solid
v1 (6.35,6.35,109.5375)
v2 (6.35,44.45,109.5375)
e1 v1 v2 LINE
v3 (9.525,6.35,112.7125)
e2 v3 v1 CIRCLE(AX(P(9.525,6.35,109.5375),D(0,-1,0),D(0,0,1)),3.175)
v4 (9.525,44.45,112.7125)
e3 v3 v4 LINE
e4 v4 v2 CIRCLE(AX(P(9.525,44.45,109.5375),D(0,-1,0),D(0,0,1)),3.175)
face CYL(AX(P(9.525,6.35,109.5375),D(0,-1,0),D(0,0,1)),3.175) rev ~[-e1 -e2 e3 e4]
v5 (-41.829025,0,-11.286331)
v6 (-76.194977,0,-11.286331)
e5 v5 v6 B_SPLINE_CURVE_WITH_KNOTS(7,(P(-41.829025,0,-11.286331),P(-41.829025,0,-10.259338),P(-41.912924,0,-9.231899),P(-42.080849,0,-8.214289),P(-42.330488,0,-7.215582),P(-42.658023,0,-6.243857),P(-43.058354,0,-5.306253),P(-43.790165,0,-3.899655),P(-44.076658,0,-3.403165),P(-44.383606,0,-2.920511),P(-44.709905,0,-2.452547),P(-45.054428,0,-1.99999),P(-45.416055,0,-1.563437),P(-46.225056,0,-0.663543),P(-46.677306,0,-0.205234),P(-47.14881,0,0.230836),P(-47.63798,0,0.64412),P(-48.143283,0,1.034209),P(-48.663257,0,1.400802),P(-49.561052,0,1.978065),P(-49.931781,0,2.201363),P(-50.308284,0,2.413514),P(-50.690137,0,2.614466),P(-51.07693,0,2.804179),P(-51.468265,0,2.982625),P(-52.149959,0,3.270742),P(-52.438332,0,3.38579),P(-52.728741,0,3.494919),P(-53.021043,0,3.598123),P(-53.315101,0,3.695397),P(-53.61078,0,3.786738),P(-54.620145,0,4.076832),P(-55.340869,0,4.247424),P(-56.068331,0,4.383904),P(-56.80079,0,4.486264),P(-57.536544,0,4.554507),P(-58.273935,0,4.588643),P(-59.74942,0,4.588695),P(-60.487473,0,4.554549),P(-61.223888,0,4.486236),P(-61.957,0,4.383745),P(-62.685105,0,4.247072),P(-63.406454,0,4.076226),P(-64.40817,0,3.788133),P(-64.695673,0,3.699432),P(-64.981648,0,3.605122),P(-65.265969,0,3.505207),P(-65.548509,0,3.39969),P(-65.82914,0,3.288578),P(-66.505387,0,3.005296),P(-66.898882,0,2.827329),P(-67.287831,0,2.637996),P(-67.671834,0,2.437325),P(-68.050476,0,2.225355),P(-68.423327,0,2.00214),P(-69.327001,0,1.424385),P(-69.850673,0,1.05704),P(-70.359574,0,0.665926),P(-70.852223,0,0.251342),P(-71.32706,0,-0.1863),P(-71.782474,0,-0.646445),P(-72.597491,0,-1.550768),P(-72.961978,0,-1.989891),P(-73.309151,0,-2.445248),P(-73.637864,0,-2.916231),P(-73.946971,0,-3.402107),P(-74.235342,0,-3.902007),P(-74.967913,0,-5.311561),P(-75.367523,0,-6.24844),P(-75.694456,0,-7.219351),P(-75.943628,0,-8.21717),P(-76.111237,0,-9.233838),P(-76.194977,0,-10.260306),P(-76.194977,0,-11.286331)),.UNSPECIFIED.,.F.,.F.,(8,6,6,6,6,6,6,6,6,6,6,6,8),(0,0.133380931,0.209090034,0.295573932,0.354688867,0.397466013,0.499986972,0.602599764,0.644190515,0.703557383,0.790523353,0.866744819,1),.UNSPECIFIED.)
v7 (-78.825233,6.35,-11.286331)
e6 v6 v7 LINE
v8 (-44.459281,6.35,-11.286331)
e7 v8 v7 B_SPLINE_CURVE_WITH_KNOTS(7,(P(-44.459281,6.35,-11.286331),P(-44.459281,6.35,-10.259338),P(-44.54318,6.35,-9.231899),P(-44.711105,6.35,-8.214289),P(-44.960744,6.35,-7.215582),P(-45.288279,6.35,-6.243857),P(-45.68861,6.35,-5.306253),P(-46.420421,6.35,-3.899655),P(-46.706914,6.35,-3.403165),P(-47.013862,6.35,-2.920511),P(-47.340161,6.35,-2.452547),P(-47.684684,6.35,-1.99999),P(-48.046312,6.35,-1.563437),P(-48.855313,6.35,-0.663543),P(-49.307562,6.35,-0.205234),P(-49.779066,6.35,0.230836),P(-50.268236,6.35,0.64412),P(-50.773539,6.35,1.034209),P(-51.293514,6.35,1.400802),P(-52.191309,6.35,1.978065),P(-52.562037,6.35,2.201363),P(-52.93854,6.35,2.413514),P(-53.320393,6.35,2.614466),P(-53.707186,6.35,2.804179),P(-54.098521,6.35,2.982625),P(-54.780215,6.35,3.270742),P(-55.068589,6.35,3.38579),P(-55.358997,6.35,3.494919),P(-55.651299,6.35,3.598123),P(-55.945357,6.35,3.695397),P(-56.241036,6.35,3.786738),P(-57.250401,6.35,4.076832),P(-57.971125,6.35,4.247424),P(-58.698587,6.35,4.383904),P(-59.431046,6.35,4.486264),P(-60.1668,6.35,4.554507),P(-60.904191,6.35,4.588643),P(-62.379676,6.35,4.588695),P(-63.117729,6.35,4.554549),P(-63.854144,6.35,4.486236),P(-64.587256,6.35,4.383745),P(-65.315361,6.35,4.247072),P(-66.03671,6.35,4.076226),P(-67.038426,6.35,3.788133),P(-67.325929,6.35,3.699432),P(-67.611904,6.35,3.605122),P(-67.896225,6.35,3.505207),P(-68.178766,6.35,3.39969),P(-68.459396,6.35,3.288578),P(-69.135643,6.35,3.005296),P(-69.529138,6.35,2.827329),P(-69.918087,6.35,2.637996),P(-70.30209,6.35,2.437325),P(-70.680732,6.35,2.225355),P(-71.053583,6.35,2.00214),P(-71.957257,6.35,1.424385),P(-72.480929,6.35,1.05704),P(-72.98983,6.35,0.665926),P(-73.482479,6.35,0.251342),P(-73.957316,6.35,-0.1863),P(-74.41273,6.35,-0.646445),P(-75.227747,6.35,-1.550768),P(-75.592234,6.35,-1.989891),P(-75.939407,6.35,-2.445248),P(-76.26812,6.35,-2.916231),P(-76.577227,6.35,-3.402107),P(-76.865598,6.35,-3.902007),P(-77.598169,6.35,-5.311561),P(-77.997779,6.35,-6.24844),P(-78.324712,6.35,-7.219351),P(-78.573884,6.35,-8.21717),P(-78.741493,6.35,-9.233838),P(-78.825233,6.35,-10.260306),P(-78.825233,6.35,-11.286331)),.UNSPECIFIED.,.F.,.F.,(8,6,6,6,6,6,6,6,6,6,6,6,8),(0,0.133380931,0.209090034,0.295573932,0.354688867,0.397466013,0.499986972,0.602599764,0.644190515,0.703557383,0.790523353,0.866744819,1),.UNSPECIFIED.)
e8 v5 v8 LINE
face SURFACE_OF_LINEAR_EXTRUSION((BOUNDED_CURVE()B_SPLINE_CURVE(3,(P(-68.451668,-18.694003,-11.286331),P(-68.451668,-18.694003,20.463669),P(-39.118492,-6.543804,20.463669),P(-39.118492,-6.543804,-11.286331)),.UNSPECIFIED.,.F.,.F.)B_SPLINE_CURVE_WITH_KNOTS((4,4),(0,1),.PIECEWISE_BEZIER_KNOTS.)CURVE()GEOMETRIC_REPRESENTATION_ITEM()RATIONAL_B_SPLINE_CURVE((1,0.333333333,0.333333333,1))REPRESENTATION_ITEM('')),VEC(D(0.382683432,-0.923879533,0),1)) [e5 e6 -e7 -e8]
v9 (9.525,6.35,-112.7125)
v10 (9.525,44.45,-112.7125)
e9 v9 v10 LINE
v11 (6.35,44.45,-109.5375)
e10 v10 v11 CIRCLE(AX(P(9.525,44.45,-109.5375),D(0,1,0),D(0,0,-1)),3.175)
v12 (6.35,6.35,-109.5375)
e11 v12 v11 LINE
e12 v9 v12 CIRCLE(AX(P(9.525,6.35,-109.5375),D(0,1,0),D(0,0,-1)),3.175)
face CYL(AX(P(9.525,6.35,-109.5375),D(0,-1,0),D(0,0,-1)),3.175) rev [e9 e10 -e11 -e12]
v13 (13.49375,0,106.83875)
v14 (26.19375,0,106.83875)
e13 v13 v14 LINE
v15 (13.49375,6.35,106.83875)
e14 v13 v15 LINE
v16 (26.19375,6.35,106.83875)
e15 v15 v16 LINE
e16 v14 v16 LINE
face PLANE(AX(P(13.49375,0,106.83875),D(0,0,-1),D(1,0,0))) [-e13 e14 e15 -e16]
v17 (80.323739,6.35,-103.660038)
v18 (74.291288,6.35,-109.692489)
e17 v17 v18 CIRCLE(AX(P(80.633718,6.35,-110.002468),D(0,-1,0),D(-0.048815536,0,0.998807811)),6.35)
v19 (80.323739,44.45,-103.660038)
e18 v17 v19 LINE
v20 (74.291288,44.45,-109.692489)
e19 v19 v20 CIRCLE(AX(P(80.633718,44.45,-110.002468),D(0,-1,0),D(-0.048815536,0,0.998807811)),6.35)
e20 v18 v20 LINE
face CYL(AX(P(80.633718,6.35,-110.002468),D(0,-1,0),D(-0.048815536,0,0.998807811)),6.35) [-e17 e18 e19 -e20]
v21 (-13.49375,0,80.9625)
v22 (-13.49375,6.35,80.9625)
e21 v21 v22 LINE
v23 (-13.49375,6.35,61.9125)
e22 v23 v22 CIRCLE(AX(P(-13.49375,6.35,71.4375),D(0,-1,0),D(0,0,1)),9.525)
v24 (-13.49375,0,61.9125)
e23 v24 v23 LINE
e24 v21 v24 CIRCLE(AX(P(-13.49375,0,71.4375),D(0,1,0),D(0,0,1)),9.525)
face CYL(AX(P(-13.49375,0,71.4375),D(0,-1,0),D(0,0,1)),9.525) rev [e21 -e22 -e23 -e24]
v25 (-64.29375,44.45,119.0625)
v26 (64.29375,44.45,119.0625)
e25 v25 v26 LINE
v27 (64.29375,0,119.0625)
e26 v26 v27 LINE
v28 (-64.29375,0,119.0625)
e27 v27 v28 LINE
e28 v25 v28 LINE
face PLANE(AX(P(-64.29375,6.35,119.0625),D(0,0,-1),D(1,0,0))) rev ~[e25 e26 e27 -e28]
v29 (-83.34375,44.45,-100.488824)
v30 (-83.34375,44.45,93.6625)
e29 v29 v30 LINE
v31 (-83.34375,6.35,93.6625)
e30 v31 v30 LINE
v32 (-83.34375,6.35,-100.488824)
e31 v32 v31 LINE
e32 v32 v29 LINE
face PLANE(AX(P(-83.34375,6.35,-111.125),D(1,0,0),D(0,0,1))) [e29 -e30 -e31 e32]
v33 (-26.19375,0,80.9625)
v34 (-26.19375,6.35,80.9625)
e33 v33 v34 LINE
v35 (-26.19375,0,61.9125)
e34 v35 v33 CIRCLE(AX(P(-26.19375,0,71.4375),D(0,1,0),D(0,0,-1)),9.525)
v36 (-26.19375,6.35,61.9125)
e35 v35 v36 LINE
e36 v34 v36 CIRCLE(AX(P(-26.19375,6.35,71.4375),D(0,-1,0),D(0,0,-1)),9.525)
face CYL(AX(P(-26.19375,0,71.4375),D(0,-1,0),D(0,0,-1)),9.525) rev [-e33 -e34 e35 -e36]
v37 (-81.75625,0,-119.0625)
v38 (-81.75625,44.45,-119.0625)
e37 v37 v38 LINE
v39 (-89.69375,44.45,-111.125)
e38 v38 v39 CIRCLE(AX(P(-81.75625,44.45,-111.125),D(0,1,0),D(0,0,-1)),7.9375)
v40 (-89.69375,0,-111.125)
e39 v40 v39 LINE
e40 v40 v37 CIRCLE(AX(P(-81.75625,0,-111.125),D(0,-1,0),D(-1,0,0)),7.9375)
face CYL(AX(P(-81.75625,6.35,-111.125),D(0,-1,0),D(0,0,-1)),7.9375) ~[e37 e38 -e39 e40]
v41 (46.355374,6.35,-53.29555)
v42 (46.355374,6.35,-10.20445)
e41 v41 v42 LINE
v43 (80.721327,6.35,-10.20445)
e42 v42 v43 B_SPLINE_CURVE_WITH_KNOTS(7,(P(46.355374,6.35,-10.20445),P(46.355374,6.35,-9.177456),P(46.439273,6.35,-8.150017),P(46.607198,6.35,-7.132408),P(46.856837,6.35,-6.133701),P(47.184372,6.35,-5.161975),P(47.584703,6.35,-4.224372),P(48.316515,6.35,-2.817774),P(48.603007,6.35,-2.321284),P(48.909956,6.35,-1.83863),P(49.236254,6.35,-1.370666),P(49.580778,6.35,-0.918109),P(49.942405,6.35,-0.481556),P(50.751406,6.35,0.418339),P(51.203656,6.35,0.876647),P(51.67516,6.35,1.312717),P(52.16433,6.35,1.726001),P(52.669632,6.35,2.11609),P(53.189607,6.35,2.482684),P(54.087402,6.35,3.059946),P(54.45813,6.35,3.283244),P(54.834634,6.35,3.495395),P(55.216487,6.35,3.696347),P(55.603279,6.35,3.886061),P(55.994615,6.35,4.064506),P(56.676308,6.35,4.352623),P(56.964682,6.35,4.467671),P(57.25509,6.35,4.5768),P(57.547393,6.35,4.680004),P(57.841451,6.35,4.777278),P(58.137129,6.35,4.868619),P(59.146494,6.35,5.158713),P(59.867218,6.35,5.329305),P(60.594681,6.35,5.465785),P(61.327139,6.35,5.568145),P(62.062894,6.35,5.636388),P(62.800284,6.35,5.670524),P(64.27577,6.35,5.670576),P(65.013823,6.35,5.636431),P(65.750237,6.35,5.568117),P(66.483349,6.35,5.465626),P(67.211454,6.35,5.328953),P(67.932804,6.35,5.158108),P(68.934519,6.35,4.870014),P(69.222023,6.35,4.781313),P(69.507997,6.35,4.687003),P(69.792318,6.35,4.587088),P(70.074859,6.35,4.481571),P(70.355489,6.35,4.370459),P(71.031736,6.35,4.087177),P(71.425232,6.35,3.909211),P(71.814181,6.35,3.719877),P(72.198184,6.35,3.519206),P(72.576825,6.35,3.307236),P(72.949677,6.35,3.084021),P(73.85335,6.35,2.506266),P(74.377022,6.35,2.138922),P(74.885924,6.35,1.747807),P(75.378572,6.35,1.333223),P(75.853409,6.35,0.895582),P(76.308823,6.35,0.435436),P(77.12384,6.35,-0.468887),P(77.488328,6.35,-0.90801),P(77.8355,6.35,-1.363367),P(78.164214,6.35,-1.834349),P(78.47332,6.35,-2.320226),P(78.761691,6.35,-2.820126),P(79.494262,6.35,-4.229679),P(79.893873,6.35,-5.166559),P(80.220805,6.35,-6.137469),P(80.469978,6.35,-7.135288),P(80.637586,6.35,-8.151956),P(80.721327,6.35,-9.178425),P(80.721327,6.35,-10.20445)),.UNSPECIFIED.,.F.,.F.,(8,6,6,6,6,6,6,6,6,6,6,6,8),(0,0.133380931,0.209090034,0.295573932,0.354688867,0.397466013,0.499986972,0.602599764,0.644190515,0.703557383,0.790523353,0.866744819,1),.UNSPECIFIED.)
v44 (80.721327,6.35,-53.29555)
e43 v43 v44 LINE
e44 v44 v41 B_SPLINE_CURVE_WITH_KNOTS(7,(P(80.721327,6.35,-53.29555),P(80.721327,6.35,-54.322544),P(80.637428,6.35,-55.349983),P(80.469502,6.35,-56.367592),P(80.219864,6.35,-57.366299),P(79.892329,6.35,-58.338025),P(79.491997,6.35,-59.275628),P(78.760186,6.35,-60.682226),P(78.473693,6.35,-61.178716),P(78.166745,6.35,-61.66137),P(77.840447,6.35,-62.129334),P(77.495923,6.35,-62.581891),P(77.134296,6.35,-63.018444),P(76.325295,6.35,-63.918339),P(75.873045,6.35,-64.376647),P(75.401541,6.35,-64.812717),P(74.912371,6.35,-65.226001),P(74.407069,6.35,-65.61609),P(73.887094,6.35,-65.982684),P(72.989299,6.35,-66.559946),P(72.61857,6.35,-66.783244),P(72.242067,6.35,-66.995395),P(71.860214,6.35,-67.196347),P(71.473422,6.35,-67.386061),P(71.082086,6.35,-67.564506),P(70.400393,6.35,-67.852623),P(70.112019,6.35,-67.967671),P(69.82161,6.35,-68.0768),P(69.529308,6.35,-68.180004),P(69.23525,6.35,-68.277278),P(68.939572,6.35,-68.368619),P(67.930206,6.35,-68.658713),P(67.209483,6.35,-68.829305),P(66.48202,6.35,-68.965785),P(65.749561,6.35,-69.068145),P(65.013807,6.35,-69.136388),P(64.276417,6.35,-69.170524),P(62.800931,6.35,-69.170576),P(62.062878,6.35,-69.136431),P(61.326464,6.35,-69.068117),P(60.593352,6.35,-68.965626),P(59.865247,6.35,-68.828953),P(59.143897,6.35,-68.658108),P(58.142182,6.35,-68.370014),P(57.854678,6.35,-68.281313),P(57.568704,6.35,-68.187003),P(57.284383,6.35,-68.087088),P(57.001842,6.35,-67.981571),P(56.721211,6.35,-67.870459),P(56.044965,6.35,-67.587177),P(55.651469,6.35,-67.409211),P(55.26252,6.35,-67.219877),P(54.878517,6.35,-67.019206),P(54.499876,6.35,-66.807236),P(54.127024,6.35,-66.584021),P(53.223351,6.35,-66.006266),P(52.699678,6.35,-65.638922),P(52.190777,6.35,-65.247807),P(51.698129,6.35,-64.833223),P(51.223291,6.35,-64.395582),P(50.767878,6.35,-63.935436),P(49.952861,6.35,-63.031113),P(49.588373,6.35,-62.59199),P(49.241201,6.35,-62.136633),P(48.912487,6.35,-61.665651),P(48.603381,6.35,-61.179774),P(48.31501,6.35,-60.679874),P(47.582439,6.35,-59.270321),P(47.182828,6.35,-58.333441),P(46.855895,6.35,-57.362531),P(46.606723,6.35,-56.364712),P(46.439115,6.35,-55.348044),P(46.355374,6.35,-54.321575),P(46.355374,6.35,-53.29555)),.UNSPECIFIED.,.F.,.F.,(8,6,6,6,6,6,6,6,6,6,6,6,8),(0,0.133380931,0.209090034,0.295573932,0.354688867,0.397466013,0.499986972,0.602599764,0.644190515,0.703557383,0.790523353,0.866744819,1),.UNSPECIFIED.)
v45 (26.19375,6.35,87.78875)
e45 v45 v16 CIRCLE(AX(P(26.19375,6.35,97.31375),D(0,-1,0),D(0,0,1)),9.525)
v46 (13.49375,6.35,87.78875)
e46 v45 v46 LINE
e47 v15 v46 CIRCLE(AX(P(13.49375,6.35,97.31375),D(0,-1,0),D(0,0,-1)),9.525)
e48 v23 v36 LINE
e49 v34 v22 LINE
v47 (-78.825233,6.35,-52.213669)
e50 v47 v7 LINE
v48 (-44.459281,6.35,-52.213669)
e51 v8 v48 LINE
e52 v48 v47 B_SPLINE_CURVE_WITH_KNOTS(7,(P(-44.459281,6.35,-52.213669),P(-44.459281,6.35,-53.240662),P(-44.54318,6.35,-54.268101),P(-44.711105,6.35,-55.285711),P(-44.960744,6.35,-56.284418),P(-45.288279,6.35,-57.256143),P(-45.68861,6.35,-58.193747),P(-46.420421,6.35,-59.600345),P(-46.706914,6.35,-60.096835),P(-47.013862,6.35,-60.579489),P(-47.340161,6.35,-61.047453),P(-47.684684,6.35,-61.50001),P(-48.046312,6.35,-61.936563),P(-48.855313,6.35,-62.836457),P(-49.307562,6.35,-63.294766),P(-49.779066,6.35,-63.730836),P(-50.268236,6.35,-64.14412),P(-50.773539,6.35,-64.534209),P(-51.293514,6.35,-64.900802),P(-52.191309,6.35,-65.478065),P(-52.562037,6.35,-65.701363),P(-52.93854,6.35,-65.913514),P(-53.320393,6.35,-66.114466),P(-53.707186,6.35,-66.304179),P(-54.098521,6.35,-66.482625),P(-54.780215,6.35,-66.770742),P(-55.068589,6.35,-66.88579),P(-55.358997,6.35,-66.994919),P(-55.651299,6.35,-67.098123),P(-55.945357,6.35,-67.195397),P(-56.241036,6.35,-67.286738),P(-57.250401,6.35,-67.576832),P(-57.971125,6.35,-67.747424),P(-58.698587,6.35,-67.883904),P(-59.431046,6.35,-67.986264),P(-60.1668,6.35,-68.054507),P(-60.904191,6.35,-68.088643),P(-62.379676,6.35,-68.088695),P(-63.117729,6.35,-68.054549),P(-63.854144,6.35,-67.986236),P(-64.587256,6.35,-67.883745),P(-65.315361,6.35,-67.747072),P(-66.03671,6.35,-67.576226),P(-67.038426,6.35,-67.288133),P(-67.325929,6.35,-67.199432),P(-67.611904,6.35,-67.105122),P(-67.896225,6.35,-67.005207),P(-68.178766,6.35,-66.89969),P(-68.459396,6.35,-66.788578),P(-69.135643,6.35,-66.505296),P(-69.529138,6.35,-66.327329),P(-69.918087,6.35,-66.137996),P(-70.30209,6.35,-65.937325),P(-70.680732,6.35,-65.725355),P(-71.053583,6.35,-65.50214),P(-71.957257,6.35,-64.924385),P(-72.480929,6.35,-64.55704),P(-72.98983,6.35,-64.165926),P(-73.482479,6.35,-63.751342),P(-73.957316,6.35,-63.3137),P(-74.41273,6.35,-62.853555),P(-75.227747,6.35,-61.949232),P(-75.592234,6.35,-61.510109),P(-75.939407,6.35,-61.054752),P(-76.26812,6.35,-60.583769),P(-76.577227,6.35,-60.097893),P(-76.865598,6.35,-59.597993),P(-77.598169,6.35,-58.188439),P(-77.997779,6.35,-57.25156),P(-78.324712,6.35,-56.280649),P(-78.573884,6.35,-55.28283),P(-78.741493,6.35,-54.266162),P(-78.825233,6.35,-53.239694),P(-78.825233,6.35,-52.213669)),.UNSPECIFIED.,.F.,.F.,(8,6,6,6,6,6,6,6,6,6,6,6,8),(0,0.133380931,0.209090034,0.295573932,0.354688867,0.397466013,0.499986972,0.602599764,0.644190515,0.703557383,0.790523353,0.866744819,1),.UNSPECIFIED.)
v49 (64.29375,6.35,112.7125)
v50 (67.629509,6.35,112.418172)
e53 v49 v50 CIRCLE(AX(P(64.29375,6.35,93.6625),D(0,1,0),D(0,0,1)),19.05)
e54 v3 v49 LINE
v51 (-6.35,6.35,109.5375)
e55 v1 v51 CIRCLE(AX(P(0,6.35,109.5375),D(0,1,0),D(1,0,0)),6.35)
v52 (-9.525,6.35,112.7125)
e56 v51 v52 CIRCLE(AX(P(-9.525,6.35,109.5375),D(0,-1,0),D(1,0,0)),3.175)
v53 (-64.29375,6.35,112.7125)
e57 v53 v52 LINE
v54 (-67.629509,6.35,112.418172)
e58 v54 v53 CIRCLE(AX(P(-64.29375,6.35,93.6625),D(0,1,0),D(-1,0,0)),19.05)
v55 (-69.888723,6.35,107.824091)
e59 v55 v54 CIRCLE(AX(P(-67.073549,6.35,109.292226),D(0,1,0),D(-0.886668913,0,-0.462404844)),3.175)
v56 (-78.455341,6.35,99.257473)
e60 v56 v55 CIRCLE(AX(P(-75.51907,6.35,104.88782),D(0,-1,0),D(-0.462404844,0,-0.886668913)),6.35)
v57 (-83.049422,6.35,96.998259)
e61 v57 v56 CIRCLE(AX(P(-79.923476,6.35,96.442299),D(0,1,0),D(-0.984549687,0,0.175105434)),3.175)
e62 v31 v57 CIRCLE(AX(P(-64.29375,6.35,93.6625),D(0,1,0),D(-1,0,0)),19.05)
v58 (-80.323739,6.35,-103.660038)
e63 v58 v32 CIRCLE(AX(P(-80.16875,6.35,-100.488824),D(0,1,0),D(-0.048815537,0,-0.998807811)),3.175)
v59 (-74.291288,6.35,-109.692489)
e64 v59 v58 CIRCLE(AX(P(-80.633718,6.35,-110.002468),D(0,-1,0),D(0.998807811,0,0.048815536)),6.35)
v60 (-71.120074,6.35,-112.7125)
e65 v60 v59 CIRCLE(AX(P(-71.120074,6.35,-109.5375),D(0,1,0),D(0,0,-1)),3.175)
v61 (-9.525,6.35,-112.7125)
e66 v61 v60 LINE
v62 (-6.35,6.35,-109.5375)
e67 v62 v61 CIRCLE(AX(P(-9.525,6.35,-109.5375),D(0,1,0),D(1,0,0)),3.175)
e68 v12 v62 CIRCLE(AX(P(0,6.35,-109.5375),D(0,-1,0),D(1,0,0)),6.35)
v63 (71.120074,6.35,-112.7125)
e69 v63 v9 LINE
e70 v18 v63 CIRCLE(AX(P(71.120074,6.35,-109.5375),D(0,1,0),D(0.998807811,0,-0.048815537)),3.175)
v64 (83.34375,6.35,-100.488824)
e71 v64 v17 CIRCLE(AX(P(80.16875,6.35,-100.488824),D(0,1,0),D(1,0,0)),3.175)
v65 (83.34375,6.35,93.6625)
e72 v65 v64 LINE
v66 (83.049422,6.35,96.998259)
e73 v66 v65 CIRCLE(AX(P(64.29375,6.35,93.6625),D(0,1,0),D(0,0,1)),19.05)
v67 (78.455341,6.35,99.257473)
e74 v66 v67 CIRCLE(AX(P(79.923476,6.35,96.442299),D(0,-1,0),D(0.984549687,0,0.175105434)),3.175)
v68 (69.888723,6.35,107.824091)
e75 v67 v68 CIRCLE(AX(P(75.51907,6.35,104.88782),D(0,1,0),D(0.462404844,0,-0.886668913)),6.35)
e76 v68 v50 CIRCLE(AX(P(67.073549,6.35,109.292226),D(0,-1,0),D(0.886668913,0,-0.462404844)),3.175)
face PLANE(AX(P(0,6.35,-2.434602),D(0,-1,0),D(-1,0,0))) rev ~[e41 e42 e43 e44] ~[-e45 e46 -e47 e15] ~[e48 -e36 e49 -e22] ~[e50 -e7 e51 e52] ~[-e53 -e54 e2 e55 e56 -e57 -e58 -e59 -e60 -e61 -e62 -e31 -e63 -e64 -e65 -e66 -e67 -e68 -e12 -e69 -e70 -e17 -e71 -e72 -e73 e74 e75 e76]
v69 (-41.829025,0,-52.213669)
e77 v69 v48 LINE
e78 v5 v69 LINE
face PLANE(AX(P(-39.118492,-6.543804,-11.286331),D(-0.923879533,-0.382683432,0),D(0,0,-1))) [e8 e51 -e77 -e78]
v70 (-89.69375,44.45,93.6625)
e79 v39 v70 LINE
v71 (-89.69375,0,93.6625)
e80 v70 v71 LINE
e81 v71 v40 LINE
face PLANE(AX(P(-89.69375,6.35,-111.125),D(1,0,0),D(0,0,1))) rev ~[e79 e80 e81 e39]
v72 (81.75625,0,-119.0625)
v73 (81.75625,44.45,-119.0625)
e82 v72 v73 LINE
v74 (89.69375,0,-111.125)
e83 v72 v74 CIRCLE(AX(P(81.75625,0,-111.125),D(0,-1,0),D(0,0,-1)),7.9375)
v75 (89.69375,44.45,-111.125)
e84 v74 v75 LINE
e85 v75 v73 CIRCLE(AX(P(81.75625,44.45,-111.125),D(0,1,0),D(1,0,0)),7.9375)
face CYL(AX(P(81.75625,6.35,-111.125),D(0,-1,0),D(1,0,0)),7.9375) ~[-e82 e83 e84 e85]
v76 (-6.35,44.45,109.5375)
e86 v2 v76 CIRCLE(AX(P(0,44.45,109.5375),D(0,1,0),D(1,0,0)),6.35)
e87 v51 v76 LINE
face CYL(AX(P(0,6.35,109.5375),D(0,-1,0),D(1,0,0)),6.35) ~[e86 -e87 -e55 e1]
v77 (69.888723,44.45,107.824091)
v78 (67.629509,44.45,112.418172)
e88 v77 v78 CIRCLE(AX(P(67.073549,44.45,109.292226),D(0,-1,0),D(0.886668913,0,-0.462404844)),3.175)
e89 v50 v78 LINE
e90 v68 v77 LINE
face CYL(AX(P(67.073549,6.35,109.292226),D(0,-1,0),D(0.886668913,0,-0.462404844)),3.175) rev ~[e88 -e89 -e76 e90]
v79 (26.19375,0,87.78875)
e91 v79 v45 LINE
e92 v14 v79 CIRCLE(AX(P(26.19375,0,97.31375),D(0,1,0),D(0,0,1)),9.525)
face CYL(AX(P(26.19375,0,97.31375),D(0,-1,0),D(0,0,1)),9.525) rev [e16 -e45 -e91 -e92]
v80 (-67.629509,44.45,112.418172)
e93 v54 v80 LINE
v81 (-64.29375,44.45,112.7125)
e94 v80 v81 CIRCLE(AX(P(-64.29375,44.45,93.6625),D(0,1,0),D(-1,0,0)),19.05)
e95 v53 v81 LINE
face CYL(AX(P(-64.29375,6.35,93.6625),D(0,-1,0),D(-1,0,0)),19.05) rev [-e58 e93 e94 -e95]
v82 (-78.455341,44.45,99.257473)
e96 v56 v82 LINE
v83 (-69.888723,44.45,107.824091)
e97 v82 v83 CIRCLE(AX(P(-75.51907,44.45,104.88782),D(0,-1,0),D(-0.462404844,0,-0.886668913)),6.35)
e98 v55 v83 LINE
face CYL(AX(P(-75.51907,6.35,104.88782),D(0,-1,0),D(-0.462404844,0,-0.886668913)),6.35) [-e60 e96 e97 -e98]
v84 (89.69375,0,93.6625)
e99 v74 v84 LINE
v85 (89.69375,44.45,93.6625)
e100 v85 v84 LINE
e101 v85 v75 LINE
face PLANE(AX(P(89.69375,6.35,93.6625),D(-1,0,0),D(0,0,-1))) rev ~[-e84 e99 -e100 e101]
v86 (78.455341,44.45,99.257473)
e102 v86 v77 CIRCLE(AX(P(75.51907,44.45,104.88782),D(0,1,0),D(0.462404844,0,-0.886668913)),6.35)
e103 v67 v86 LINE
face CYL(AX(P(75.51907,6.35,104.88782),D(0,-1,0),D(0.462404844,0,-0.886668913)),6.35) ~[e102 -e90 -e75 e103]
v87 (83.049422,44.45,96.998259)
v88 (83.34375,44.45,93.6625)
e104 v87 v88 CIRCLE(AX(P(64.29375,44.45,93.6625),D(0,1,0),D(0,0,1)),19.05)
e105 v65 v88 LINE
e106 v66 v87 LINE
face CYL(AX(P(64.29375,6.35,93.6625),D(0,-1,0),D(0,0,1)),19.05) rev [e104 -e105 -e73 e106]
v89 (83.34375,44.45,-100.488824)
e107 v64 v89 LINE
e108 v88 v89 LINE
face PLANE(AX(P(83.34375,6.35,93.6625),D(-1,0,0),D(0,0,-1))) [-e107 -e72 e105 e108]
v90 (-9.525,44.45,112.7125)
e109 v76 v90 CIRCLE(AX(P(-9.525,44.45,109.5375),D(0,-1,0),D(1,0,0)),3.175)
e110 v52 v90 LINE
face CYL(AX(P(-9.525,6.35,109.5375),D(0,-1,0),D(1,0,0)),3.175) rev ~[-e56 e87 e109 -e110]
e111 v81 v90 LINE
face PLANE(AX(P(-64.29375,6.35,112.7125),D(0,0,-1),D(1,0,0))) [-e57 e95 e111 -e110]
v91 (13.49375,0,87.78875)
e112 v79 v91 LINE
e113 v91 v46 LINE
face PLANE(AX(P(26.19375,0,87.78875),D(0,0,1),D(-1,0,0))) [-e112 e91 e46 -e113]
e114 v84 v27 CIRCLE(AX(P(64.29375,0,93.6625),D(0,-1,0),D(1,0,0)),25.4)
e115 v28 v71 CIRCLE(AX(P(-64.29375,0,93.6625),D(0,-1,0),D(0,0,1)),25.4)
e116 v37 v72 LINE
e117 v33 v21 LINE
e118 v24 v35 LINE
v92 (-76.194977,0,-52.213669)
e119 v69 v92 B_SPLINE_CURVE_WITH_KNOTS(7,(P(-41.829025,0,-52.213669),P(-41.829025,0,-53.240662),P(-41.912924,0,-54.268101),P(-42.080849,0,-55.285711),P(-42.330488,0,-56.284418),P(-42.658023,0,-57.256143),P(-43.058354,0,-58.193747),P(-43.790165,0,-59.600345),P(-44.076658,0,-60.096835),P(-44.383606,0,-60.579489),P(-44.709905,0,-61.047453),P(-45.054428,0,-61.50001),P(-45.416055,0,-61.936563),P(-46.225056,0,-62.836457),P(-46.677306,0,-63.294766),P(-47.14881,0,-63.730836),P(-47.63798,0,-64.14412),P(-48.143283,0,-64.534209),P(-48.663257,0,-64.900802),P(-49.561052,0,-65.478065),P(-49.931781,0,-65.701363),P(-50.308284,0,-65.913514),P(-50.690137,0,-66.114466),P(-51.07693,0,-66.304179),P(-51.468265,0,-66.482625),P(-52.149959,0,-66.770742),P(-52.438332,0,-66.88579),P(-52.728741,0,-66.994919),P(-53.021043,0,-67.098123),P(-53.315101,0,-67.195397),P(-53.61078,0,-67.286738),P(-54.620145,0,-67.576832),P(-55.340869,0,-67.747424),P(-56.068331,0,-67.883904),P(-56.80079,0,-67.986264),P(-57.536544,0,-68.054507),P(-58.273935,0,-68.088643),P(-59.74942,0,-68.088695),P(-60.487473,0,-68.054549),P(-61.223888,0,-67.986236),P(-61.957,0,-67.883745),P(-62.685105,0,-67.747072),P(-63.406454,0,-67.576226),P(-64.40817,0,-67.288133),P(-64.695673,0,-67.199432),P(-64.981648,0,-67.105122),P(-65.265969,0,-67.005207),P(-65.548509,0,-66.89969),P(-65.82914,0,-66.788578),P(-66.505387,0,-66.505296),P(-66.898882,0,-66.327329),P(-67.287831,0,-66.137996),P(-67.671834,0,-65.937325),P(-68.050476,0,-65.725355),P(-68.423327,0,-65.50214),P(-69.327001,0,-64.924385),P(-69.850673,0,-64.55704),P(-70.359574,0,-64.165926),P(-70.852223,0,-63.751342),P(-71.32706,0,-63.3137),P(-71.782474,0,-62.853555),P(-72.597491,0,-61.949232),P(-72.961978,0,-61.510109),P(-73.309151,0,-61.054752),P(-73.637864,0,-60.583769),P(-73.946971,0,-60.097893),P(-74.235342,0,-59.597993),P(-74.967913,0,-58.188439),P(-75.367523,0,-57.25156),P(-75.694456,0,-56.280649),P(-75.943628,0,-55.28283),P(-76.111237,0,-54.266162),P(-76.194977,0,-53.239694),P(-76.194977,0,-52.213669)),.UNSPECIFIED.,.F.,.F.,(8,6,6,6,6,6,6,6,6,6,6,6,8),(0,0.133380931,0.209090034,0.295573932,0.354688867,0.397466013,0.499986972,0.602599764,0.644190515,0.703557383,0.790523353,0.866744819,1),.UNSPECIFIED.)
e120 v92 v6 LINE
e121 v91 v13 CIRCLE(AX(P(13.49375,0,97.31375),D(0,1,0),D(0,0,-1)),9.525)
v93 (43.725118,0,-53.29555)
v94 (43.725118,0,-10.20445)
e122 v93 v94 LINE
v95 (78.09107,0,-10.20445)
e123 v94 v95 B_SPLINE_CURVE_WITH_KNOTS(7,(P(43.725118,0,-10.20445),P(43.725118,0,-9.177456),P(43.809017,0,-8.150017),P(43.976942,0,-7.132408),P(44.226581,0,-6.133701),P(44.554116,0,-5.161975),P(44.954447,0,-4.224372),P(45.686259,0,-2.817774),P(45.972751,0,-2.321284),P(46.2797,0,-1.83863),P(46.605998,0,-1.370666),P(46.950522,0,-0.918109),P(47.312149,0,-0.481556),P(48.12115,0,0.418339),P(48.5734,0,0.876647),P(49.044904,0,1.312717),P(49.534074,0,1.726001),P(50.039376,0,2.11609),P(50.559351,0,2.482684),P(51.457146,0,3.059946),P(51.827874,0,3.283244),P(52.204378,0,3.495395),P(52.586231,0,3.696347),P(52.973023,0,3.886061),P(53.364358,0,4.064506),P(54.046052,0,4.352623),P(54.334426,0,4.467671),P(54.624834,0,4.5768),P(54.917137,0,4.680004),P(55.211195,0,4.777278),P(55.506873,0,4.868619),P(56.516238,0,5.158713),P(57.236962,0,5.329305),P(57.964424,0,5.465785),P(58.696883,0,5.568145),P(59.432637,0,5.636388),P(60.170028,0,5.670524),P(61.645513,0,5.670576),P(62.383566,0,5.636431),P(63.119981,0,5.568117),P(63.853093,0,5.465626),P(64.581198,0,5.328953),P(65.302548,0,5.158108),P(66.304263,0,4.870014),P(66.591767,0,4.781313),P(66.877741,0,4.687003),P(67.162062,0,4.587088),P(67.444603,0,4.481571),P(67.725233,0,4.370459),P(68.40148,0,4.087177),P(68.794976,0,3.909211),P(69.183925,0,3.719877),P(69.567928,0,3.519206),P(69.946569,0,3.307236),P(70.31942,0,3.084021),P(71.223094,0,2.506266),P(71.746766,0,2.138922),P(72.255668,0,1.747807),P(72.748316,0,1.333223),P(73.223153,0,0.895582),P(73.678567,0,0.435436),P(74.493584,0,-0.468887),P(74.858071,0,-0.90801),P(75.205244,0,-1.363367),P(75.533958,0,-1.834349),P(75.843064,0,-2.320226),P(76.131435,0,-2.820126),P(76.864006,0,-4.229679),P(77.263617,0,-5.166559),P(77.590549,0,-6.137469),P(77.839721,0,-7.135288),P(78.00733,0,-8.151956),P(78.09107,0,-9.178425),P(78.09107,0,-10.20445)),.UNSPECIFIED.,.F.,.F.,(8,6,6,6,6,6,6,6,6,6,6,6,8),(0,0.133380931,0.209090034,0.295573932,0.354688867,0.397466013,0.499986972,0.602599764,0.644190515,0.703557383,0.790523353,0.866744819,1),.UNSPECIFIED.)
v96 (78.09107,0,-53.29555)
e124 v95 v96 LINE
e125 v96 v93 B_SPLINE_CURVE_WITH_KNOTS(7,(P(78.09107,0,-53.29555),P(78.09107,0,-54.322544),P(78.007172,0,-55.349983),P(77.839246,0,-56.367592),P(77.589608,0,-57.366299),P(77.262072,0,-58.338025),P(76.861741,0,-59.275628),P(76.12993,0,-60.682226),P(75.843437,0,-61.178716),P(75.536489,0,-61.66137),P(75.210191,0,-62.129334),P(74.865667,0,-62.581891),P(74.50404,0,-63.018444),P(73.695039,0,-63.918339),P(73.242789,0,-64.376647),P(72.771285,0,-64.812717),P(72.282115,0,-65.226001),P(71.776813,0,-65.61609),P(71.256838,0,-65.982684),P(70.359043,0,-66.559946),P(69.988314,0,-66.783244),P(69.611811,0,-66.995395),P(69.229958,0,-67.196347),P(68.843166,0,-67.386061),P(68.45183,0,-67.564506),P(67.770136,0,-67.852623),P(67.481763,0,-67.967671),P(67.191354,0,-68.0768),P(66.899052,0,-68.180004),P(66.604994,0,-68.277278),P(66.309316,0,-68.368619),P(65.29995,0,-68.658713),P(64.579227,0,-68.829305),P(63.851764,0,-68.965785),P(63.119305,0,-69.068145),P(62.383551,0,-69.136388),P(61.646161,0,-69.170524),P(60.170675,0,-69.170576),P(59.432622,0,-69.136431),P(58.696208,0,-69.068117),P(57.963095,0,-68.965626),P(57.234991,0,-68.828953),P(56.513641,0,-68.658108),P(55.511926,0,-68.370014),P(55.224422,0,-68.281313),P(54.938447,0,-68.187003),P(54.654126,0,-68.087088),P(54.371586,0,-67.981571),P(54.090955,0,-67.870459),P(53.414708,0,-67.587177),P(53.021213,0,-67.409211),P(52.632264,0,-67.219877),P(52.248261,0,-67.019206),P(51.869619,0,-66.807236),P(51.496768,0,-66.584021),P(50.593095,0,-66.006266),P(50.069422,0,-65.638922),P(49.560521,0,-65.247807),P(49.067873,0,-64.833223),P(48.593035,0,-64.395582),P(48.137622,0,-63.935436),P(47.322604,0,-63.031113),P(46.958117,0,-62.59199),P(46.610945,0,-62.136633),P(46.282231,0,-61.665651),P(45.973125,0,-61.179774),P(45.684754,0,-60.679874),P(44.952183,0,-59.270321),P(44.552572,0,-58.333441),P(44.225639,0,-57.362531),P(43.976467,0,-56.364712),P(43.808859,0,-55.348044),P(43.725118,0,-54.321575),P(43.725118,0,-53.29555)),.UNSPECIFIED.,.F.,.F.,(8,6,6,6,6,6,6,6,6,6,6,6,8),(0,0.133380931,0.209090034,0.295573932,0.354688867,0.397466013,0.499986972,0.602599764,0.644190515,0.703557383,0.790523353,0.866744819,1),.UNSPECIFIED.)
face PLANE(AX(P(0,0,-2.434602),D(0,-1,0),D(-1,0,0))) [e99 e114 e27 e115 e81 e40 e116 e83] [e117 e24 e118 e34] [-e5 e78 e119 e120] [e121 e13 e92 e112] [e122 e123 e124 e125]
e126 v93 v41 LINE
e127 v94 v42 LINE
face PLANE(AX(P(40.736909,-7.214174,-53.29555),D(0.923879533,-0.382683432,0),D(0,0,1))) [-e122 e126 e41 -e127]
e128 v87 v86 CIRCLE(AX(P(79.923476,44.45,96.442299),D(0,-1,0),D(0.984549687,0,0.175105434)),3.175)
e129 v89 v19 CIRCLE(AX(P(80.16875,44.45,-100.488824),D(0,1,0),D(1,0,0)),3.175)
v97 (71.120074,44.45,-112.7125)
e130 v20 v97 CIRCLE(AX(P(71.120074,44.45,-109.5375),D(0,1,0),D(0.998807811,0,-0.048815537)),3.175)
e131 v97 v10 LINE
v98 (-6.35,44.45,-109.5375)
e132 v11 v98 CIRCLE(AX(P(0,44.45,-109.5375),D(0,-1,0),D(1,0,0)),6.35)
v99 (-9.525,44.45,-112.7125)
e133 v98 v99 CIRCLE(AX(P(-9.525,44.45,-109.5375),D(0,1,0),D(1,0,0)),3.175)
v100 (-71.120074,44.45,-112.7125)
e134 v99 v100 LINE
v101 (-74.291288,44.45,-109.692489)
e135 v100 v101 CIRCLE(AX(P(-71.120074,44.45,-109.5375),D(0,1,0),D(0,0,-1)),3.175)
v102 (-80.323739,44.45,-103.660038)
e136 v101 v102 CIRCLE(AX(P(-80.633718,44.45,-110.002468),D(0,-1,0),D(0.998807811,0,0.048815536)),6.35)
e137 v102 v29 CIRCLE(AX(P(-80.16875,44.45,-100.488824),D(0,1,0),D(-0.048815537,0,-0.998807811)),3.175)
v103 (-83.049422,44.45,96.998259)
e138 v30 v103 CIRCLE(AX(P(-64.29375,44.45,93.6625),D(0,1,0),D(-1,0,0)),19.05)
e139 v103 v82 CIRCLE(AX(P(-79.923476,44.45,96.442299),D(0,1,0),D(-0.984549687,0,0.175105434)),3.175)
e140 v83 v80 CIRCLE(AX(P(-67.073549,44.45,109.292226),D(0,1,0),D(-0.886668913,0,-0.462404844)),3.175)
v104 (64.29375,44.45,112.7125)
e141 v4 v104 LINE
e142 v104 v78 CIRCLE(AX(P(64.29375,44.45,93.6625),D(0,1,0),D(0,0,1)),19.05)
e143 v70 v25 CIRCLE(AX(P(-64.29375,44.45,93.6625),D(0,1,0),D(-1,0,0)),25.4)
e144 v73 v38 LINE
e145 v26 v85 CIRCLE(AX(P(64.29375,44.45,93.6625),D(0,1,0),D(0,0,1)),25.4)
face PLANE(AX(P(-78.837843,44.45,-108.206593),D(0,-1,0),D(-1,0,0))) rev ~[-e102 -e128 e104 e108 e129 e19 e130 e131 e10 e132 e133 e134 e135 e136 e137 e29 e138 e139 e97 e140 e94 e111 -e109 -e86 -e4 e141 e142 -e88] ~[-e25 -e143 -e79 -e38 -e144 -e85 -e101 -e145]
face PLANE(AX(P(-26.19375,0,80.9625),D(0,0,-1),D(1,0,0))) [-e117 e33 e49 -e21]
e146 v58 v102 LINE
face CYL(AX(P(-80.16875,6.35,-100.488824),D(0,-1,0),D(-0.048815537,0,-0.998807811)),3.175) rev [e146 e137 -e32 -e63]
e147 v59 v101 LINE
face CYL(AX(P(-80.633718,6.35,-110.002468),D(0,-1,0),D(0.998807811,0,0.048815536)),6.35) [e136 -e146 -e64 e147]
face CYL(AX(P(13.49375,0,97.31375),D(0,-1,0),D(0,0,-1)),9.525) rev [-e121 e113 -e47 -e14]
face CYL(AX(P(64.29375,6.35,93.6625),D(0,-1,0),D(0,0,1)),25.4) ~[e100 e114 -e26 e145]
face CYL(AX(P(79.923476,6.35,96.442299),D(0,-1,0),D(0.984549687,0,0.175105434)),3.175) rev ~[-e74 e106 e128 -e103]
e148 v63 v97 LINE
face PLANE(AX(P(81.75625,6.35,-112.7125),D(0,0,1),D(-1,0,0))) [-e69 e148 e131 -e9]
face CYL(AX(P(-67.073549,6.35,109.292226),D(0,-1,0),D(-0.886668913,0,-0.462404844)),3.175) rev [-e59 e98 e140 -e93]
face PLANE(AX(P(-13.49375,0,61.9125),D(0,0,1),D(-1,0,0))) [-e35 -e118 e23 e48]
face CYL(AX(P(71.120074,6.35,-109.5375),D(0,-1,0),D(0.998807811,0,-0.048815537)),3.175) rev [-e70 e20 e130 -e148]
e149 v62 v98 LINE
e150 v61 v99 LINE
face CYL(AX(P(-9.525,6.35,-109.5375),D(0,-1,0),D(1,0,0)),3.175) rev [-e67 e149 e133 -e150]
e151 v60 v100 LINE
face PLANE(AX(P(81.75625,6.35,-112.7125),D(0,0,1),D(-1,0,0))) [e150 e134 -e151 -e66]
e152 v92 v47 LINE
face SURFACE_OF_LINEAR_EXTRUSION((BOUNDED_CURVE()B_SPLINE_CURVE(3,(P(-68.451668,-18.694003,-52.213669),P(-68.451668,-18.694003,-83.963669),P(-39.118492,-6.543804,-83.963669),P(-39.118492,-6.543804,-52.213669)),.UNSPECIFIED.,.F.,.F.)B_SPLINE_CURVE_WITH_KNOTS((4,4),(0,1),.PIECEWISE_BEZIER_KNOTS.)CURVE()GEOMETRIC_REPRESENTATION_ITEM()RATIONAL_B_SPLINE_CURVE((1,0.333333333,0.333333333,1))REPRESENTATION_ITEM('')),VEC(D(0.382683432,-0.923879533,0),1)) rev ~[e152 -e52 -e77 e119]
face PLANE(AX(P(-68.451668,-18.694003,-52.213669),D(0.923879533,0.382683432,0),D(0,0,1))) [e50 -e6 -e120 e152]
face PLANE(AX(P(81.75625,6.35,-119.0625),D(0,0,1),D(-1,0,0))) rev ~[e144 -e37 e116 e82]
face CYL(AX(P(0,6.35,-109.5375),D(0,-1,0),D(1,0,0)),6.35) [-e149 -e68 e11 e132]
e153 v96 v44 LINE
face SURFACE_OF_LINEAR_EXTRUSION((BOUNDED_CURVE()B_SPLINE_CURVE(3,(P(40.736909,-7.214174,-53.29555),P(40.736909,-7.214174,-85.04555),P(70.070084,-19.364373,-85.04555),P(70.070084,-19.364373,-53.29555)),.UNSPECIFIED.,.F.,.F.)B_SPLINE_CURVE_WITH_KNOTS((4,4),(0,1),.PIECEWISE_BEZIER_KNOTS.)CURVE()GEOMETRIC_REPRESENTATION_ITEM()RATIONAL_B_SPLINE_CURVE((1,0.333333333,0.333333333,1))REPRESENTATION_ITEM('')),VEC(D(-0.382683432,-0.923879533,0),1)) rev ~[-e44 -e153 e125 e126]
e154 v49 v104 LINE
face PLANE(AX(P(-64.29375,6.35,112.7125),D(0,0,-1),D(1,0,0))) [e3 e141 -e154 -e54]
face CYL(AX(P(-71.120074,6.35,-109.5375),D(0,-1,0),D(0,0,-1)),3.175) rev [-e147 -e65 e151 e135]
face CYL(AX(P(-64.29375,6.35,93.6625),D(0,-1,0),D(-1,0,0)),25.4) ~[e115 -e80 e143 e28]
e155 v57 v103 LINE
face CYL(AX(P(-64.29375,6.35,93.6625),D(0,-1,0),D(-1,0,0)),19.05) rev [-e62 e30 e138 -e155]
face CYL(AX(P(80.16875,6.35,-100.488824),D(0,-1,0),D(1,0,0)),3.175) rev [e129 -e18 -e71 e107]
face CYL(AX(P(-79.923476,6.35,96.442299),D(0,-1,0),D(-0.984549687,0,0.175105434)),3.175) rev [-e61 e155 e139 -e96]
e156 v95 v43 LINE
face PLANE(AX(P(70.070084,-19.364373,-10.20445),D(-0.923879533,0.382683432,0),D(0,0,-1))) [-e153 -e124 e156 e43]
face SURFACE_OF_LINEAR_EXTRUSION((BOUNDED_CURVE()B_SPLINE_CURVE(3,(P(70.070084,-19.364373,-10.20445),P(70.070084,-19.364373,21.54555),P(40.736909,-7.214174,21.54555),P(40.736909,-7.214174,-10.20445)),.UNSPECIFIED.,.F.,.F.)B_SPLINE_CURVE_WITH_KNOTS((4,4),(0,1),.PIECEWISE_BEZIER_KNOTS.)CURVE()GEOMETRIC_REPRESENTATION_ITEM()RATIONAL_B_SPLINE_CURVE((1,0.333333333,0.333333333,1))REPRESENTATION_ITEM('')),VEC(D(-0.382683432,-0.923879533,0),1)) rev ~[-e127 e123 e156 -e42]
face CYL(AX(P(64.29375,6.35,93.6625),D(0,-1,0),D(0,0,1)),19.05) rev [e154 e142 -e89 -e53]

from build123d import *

# Parameters (mm, degrees)
BOSS_EXTRUDE1_DEPTH     = 6.35
BOSS_EXTRUDE2_DEPTH     = 38.1
CUT_EXTRUDE1_DEPTH      = 12.7
CUT_EXTRUDE1_DEPTH_BACK = 25.4
CUT_EXTRUDE2_DEPTH      = 6.35
CUT_EXTRUDE2_DEPTH_BACK = 25.4
CUT_EXTRUDE3_DEPTH      = 156.552724943
BOSS_EXTRUDE3_DEPTH     = 38.1


with BuildPart() as part:
    # Sketch1 → Boss-Extrude1 (new body)
    with BuildSketch(Plane(origin=(0, 0, 0), x_dir=(1, 0, 0), z_dir=(0, 1, 0))):
        with BuildLine():
            Line((-81.75625, 119.0625), (81.75625, 119.0625))
            ThreePointArc((81.75625, 119.0625), (87.368910076, 116.737660076), (89.69375, 111.125))
            Line((89.69375, 111.125), (89.69375, -93.6625))
            ThreePointArc((89.69375, -93.6625), (82.254262242, -111.623012242), (64.29375, -119.0625))
            Line((64.29375, -119.0625), (-64.29375, -119.0625))
            ThreePointArc((-64.29375, -119.0625), (-82.254262242, -111.623012242), (-89.69375, -93.6625))
            Line((-89.69375, -93.6625), (-89.69375, 111.125))
            ThreePointArc((-89.69375, 111.125), (-87.368910076, 116.737660076), (-81.75625, 119.0625))
        make_face()
    extrude(amount=BOSS_EXTRUDE1_DEPTH)

    # Sketch2 → Boss-Extrude2 (add)
    with BuildSketch(Plane(origin=(0, 6.35, 0), x_dir=(1, 0, 0), z_dir=(0, 1, 0))):
        with BuildLine():
            Line((89.69375, -93.6625), (89.69375, 111.125))
            ThreePointArc((89.69375, 111.125), (87.368910076, 116.737660076), (81.75625, 119.0625))
            Line((81.75625, 119.0625), (-81.75625, 119.0625))
            ThreePointArc((-81.75625, 119.0625), (-87.368910076, 116.737660076), (-89.69375, 111.125))
            Line((-89.69375, 111.125), (-89.69375, -93.6625))
            ThreePointArc((-89.69375, -93.6625), (-82.254262242, -111.623012242), (-64.29375, -119.0625))
            Line((-64.29375, -119.0625), (64.29375, -119.0625))
            ThreePointArc((64.29375, -119.0625), (82.254262242, -111.623012242), (89.69375, -93.6625))
        make_face()
        with BuildLine():
            Line((81.75625, 112.7125), (-81.75625, 112.7125))
            ThreePointArc((-81.75625, 112.7125), (-82.878782015, 112.247532015), (-83.34375, 111.125))
            Line((-83.34375, 111.125), (-83.34375, -93.6625))
            ThreePointArc((-83.34375, -93.6625), (-77.764134182, -107.132884182), (-64.29375, -112.7125))
            Line((-64.29375, -112.7125), (64.29375, -112.7125))
            ThreePointArc((64.29375, -112.7125), (77.764134182, -107.132884182), (83.34375, -93.6625))
            Line((83.34375, -93.6625), (83.34375, 111.125))
            ThreePointArc((83.34375, 111.125), (82.878782015, 112.247532015), (81.75625, 112.7125))
        make_face(mode=Mode.SUBTRACT)
    extrude(amount=BOSS_EXTRUDE2_DEPTH)

    # Sketch5 → Cut-Extrude1 (cut, two sides: drawn at the far end of the back side and taken through both)
    with BuildSketch(Plane(origin=(-13.135345572, 31.711529428, 0), x_dir=(0, 0, 1), z_dir=(-0.38268343236509383, 0.9238795325112852, 0)).offset(-CUT_EXTRUDE1_DEPTH_BACK)):
        with BuildLine():
            Line((-52.21366875, -70.394979916), (-11.28633125, -70.394979916))
            add(Edge.make_bspline(
                [(-11.28633125, -70.394979916), (20.46366875, -70.394979916), (20.46366875, -38.644979916), (-11.28633125, -38.644979916)],
                knots=[0, 0, 0, 0, 1, 1, 1, 1], degree=3, weights=[1, 0.333333333, 0.333333333, 1]))
            Line((-11.28633125, -38.644979916), (-52.21366875, -38.644979916))
            add(Edge.make_bspline(
                [(-52.21366875, -70.394979916), (-83.96366875, -70.394979916), (-83.96366875, -38.644979916), (-52.21366875, -38.644979916)],
                knots=[0, 0, 0, 0, 1, 1, 1, 1], degree=3, weights=[1, 0.333333333, 0.333333333, 1]))
        make_face()
    extrude(amount=CUT_EXTRUDE1_DEPTH + CUT_EXTRUDE1_DEPTH_BACK, mode=Mode.SUBTRACT)

    # Sketch7 → Cut-Extrude2 (cut, two sides: drawn at the far end of the back side and taken through both)
    with BuildSketch(Plane(origin=(13.135345572, 31.711529428, 0), x_dir=(0, 0, -1), z_dir=(0.3826834323650874, 0.9238795325112878, 0)).offset(-CUT_EXTRUDE2_DEPTH_BACK)):
        with BuildLine():
            Line((10.20445, -72.146741698), (53.29555, -72.146741698))
            add(Edge.make_bspline(
                [(53.29555, -40.396741698), (85.04555, -40.396741698), (85.04555, -72.146741698), (53.29555, -72.146741698)],
                knots=[0, 0, 0, 0, 1, 1, 1, 1], degree=3, weights=[1, 0.333333333, 0.333333333, 1]))
            Line((53.29555, -40.396741698), (10.20445, -40.396741698))
            add(Edge.make_bspline(
                [(10.20445, -72.146741698), (-21.54555, -72.146741698), (-21.54555, -40.396741698), (10.20445, -40.396741698)],
                knots=[0, 0, 0, 0, 1, 1, 1, 1], degree=3, weights=[1, 0.333333333, 0.333333333, 1]))
        make_face()
    extrude(amount=CUT_EXTRUDE2_DEPTH + CUT_EXTRUDE2_DEPTH_BACK, mode=Mode.SUBTRACT)

    # Sketch8 → Cut-Extrude3 (cut, through all)
    with BuildSketch(Plane.XZ):
        with BuildLine():
            Line((13.49375, 106.83875), (26.19375, 106.83875))
            ThreePointArc((26.19375, 106.83875), (35.71875, 97.31375), (26.19375, 87.78875))
            Line((26.19375, 87.78875), (13.49375, 87.78875))
            ThreePointArc((13.49375, 87.78875), (3.96875, 97.31375), (13.49375, 106.83875))
        make_face()
        with BuildLine():
            Line((-26.19375, 80.9625), (-13.49375, 80.9625))
            ThreePointArc((-13.49375, 80.9625), (-3.96875, 71.4375), (-13.49375, 61.9125))
            Line((-13.49375, 61.9125), (-26.19375, 61.9125))
            ThreePointArc((-26.19375, 61.9125), (-35.71875, 71.4375), (-26.19375, 80.9625))
        make_face()
    extrude(amount=-CUT_EXTRUDE3_DEPTH, mode=Mode.SUBTRACT)

    # Sketch9 → Boss-Extrude3 (add)
    with BuildSketch(Plane(origin=(0, 6.35, 0), x_dir=(1, 0, 0), z_dir=(0, 1, 0))):
        with BuildLine():
            Line((-81.75625, 112.7125), (-71.120073585, 112.7125))
            ThreePointArc((-71.120073585, 112.7125), (-73.309655038, 111.836708137), (-74.291288385, 109.692489328))
            ThreePointArc((-74.291288385, 109.692489328), (-76.143589924, 105.512339924), (-80.323739328, 103.660038385))
            ThreePointArc((-80.323739328, 103.660038385), (-82.467958137, 102.678405038), (-83.34375, 100.488823585))
            Line((-83.34375, 100.488823585), (-83.34375, 111.125))
            ThreePointArc((-83.34375, 111.125), (-82.878782015, 112.247532015), (-81.75625, 112.7125))
        make_face()
        with BuildLine():
            Line((-9.525, -112.7125), (9.525, -112.7125))
            ThreePointArc((9.525, -112.7125), (7.27993597, -111.78256403), (6.35, -109.5375))
            ThreePointArc((6.35, -109.5375), (0, -103.1875), (-6.35, -109.5375))
            ThreePointArc((-6.35, -109.5375), (-7.27993597, -111.78256403), (-9.525, -112.7125))
        make_face()
        with BuildLine():
            Line((-9.525, 112.7125), (9.525, 112.7125))
            ThreePointArc((9.525, 112.7125), (7.27993597, 111.78256403), (6.35, 109.5375))
            ThreePointArc((6.35, 109.5375), (0, 103.1875), (-6.35, 109.5375))
            ThreePointArc((-6.35, 109.5375), (-7.27993597, 111.78256403), (-9.525, 112.7125))
        make_face()
        with BuildLine():
            Line((83.34375, 111.125), (83.34375, 100.488823585))
            ThreePointArc((83.34375, 100.488823585), (82.467958137, 102.678405038), (80.323739328, 103.660038385))
            ThreePointArc((80.323739328, 103.660038385), (76.143589924, 105.512339924), (74.291288385, 109.692489328))
            ThreePointArc((74.291288385, 109.692489328), (73.309655038, 111.836708137), (71.120073585, 112.7125))
            Line((71.120073585, 112.7125), (81.75625, 112.7125))
            ThreePointArc((81.75625, 112.7125), (82.878782015, 112.247532015), (83.34375, 111.125))
        make_face()
        with BuildLine():
            ThreePointArc((-83.049421546, -96.998258512), (-81.324581361, -99.291426622), (-78.45534091, -99.257472557))
            ThreePointArc((-78.45534091, -99.257472557), (-71.028942091, -100.397692091), (-69.888722557, -107.82409091))
            ThreePointArc((-69.888722557, -107.82409091), (-69.922676622, -110.693331361), (-67.629508512, -112.418171546))
            ThreePointArc((-67.629508512, -112.418171546), (-77.764134182, -107.132884182), (-83.049421546, -96.998258512))
        make_face()
        with BuildLine():
            ThreePointArc((69.888722557, -107.82409091), (69.922676622, -110.693331361), (67.629508512, -112.418171546))
            ThreePointArc((67.629508512, -112.418171546), (77.764134182, -107.132884182), (83.049421546, -96.998258512))
            ThreePointArc((83.049421546, -96.998258512), (81.324581361, -99.291426622), (78.45534091, -99.257472557))
            ThreePointArc((78.45534091, -99.257472557), (71.028942091, -100.397692091), (69.888722557, -107.82409091))
        make_face()
    extrude(amount=BOSS_EXTRUDE3_DEPTH)


solid = part.part
